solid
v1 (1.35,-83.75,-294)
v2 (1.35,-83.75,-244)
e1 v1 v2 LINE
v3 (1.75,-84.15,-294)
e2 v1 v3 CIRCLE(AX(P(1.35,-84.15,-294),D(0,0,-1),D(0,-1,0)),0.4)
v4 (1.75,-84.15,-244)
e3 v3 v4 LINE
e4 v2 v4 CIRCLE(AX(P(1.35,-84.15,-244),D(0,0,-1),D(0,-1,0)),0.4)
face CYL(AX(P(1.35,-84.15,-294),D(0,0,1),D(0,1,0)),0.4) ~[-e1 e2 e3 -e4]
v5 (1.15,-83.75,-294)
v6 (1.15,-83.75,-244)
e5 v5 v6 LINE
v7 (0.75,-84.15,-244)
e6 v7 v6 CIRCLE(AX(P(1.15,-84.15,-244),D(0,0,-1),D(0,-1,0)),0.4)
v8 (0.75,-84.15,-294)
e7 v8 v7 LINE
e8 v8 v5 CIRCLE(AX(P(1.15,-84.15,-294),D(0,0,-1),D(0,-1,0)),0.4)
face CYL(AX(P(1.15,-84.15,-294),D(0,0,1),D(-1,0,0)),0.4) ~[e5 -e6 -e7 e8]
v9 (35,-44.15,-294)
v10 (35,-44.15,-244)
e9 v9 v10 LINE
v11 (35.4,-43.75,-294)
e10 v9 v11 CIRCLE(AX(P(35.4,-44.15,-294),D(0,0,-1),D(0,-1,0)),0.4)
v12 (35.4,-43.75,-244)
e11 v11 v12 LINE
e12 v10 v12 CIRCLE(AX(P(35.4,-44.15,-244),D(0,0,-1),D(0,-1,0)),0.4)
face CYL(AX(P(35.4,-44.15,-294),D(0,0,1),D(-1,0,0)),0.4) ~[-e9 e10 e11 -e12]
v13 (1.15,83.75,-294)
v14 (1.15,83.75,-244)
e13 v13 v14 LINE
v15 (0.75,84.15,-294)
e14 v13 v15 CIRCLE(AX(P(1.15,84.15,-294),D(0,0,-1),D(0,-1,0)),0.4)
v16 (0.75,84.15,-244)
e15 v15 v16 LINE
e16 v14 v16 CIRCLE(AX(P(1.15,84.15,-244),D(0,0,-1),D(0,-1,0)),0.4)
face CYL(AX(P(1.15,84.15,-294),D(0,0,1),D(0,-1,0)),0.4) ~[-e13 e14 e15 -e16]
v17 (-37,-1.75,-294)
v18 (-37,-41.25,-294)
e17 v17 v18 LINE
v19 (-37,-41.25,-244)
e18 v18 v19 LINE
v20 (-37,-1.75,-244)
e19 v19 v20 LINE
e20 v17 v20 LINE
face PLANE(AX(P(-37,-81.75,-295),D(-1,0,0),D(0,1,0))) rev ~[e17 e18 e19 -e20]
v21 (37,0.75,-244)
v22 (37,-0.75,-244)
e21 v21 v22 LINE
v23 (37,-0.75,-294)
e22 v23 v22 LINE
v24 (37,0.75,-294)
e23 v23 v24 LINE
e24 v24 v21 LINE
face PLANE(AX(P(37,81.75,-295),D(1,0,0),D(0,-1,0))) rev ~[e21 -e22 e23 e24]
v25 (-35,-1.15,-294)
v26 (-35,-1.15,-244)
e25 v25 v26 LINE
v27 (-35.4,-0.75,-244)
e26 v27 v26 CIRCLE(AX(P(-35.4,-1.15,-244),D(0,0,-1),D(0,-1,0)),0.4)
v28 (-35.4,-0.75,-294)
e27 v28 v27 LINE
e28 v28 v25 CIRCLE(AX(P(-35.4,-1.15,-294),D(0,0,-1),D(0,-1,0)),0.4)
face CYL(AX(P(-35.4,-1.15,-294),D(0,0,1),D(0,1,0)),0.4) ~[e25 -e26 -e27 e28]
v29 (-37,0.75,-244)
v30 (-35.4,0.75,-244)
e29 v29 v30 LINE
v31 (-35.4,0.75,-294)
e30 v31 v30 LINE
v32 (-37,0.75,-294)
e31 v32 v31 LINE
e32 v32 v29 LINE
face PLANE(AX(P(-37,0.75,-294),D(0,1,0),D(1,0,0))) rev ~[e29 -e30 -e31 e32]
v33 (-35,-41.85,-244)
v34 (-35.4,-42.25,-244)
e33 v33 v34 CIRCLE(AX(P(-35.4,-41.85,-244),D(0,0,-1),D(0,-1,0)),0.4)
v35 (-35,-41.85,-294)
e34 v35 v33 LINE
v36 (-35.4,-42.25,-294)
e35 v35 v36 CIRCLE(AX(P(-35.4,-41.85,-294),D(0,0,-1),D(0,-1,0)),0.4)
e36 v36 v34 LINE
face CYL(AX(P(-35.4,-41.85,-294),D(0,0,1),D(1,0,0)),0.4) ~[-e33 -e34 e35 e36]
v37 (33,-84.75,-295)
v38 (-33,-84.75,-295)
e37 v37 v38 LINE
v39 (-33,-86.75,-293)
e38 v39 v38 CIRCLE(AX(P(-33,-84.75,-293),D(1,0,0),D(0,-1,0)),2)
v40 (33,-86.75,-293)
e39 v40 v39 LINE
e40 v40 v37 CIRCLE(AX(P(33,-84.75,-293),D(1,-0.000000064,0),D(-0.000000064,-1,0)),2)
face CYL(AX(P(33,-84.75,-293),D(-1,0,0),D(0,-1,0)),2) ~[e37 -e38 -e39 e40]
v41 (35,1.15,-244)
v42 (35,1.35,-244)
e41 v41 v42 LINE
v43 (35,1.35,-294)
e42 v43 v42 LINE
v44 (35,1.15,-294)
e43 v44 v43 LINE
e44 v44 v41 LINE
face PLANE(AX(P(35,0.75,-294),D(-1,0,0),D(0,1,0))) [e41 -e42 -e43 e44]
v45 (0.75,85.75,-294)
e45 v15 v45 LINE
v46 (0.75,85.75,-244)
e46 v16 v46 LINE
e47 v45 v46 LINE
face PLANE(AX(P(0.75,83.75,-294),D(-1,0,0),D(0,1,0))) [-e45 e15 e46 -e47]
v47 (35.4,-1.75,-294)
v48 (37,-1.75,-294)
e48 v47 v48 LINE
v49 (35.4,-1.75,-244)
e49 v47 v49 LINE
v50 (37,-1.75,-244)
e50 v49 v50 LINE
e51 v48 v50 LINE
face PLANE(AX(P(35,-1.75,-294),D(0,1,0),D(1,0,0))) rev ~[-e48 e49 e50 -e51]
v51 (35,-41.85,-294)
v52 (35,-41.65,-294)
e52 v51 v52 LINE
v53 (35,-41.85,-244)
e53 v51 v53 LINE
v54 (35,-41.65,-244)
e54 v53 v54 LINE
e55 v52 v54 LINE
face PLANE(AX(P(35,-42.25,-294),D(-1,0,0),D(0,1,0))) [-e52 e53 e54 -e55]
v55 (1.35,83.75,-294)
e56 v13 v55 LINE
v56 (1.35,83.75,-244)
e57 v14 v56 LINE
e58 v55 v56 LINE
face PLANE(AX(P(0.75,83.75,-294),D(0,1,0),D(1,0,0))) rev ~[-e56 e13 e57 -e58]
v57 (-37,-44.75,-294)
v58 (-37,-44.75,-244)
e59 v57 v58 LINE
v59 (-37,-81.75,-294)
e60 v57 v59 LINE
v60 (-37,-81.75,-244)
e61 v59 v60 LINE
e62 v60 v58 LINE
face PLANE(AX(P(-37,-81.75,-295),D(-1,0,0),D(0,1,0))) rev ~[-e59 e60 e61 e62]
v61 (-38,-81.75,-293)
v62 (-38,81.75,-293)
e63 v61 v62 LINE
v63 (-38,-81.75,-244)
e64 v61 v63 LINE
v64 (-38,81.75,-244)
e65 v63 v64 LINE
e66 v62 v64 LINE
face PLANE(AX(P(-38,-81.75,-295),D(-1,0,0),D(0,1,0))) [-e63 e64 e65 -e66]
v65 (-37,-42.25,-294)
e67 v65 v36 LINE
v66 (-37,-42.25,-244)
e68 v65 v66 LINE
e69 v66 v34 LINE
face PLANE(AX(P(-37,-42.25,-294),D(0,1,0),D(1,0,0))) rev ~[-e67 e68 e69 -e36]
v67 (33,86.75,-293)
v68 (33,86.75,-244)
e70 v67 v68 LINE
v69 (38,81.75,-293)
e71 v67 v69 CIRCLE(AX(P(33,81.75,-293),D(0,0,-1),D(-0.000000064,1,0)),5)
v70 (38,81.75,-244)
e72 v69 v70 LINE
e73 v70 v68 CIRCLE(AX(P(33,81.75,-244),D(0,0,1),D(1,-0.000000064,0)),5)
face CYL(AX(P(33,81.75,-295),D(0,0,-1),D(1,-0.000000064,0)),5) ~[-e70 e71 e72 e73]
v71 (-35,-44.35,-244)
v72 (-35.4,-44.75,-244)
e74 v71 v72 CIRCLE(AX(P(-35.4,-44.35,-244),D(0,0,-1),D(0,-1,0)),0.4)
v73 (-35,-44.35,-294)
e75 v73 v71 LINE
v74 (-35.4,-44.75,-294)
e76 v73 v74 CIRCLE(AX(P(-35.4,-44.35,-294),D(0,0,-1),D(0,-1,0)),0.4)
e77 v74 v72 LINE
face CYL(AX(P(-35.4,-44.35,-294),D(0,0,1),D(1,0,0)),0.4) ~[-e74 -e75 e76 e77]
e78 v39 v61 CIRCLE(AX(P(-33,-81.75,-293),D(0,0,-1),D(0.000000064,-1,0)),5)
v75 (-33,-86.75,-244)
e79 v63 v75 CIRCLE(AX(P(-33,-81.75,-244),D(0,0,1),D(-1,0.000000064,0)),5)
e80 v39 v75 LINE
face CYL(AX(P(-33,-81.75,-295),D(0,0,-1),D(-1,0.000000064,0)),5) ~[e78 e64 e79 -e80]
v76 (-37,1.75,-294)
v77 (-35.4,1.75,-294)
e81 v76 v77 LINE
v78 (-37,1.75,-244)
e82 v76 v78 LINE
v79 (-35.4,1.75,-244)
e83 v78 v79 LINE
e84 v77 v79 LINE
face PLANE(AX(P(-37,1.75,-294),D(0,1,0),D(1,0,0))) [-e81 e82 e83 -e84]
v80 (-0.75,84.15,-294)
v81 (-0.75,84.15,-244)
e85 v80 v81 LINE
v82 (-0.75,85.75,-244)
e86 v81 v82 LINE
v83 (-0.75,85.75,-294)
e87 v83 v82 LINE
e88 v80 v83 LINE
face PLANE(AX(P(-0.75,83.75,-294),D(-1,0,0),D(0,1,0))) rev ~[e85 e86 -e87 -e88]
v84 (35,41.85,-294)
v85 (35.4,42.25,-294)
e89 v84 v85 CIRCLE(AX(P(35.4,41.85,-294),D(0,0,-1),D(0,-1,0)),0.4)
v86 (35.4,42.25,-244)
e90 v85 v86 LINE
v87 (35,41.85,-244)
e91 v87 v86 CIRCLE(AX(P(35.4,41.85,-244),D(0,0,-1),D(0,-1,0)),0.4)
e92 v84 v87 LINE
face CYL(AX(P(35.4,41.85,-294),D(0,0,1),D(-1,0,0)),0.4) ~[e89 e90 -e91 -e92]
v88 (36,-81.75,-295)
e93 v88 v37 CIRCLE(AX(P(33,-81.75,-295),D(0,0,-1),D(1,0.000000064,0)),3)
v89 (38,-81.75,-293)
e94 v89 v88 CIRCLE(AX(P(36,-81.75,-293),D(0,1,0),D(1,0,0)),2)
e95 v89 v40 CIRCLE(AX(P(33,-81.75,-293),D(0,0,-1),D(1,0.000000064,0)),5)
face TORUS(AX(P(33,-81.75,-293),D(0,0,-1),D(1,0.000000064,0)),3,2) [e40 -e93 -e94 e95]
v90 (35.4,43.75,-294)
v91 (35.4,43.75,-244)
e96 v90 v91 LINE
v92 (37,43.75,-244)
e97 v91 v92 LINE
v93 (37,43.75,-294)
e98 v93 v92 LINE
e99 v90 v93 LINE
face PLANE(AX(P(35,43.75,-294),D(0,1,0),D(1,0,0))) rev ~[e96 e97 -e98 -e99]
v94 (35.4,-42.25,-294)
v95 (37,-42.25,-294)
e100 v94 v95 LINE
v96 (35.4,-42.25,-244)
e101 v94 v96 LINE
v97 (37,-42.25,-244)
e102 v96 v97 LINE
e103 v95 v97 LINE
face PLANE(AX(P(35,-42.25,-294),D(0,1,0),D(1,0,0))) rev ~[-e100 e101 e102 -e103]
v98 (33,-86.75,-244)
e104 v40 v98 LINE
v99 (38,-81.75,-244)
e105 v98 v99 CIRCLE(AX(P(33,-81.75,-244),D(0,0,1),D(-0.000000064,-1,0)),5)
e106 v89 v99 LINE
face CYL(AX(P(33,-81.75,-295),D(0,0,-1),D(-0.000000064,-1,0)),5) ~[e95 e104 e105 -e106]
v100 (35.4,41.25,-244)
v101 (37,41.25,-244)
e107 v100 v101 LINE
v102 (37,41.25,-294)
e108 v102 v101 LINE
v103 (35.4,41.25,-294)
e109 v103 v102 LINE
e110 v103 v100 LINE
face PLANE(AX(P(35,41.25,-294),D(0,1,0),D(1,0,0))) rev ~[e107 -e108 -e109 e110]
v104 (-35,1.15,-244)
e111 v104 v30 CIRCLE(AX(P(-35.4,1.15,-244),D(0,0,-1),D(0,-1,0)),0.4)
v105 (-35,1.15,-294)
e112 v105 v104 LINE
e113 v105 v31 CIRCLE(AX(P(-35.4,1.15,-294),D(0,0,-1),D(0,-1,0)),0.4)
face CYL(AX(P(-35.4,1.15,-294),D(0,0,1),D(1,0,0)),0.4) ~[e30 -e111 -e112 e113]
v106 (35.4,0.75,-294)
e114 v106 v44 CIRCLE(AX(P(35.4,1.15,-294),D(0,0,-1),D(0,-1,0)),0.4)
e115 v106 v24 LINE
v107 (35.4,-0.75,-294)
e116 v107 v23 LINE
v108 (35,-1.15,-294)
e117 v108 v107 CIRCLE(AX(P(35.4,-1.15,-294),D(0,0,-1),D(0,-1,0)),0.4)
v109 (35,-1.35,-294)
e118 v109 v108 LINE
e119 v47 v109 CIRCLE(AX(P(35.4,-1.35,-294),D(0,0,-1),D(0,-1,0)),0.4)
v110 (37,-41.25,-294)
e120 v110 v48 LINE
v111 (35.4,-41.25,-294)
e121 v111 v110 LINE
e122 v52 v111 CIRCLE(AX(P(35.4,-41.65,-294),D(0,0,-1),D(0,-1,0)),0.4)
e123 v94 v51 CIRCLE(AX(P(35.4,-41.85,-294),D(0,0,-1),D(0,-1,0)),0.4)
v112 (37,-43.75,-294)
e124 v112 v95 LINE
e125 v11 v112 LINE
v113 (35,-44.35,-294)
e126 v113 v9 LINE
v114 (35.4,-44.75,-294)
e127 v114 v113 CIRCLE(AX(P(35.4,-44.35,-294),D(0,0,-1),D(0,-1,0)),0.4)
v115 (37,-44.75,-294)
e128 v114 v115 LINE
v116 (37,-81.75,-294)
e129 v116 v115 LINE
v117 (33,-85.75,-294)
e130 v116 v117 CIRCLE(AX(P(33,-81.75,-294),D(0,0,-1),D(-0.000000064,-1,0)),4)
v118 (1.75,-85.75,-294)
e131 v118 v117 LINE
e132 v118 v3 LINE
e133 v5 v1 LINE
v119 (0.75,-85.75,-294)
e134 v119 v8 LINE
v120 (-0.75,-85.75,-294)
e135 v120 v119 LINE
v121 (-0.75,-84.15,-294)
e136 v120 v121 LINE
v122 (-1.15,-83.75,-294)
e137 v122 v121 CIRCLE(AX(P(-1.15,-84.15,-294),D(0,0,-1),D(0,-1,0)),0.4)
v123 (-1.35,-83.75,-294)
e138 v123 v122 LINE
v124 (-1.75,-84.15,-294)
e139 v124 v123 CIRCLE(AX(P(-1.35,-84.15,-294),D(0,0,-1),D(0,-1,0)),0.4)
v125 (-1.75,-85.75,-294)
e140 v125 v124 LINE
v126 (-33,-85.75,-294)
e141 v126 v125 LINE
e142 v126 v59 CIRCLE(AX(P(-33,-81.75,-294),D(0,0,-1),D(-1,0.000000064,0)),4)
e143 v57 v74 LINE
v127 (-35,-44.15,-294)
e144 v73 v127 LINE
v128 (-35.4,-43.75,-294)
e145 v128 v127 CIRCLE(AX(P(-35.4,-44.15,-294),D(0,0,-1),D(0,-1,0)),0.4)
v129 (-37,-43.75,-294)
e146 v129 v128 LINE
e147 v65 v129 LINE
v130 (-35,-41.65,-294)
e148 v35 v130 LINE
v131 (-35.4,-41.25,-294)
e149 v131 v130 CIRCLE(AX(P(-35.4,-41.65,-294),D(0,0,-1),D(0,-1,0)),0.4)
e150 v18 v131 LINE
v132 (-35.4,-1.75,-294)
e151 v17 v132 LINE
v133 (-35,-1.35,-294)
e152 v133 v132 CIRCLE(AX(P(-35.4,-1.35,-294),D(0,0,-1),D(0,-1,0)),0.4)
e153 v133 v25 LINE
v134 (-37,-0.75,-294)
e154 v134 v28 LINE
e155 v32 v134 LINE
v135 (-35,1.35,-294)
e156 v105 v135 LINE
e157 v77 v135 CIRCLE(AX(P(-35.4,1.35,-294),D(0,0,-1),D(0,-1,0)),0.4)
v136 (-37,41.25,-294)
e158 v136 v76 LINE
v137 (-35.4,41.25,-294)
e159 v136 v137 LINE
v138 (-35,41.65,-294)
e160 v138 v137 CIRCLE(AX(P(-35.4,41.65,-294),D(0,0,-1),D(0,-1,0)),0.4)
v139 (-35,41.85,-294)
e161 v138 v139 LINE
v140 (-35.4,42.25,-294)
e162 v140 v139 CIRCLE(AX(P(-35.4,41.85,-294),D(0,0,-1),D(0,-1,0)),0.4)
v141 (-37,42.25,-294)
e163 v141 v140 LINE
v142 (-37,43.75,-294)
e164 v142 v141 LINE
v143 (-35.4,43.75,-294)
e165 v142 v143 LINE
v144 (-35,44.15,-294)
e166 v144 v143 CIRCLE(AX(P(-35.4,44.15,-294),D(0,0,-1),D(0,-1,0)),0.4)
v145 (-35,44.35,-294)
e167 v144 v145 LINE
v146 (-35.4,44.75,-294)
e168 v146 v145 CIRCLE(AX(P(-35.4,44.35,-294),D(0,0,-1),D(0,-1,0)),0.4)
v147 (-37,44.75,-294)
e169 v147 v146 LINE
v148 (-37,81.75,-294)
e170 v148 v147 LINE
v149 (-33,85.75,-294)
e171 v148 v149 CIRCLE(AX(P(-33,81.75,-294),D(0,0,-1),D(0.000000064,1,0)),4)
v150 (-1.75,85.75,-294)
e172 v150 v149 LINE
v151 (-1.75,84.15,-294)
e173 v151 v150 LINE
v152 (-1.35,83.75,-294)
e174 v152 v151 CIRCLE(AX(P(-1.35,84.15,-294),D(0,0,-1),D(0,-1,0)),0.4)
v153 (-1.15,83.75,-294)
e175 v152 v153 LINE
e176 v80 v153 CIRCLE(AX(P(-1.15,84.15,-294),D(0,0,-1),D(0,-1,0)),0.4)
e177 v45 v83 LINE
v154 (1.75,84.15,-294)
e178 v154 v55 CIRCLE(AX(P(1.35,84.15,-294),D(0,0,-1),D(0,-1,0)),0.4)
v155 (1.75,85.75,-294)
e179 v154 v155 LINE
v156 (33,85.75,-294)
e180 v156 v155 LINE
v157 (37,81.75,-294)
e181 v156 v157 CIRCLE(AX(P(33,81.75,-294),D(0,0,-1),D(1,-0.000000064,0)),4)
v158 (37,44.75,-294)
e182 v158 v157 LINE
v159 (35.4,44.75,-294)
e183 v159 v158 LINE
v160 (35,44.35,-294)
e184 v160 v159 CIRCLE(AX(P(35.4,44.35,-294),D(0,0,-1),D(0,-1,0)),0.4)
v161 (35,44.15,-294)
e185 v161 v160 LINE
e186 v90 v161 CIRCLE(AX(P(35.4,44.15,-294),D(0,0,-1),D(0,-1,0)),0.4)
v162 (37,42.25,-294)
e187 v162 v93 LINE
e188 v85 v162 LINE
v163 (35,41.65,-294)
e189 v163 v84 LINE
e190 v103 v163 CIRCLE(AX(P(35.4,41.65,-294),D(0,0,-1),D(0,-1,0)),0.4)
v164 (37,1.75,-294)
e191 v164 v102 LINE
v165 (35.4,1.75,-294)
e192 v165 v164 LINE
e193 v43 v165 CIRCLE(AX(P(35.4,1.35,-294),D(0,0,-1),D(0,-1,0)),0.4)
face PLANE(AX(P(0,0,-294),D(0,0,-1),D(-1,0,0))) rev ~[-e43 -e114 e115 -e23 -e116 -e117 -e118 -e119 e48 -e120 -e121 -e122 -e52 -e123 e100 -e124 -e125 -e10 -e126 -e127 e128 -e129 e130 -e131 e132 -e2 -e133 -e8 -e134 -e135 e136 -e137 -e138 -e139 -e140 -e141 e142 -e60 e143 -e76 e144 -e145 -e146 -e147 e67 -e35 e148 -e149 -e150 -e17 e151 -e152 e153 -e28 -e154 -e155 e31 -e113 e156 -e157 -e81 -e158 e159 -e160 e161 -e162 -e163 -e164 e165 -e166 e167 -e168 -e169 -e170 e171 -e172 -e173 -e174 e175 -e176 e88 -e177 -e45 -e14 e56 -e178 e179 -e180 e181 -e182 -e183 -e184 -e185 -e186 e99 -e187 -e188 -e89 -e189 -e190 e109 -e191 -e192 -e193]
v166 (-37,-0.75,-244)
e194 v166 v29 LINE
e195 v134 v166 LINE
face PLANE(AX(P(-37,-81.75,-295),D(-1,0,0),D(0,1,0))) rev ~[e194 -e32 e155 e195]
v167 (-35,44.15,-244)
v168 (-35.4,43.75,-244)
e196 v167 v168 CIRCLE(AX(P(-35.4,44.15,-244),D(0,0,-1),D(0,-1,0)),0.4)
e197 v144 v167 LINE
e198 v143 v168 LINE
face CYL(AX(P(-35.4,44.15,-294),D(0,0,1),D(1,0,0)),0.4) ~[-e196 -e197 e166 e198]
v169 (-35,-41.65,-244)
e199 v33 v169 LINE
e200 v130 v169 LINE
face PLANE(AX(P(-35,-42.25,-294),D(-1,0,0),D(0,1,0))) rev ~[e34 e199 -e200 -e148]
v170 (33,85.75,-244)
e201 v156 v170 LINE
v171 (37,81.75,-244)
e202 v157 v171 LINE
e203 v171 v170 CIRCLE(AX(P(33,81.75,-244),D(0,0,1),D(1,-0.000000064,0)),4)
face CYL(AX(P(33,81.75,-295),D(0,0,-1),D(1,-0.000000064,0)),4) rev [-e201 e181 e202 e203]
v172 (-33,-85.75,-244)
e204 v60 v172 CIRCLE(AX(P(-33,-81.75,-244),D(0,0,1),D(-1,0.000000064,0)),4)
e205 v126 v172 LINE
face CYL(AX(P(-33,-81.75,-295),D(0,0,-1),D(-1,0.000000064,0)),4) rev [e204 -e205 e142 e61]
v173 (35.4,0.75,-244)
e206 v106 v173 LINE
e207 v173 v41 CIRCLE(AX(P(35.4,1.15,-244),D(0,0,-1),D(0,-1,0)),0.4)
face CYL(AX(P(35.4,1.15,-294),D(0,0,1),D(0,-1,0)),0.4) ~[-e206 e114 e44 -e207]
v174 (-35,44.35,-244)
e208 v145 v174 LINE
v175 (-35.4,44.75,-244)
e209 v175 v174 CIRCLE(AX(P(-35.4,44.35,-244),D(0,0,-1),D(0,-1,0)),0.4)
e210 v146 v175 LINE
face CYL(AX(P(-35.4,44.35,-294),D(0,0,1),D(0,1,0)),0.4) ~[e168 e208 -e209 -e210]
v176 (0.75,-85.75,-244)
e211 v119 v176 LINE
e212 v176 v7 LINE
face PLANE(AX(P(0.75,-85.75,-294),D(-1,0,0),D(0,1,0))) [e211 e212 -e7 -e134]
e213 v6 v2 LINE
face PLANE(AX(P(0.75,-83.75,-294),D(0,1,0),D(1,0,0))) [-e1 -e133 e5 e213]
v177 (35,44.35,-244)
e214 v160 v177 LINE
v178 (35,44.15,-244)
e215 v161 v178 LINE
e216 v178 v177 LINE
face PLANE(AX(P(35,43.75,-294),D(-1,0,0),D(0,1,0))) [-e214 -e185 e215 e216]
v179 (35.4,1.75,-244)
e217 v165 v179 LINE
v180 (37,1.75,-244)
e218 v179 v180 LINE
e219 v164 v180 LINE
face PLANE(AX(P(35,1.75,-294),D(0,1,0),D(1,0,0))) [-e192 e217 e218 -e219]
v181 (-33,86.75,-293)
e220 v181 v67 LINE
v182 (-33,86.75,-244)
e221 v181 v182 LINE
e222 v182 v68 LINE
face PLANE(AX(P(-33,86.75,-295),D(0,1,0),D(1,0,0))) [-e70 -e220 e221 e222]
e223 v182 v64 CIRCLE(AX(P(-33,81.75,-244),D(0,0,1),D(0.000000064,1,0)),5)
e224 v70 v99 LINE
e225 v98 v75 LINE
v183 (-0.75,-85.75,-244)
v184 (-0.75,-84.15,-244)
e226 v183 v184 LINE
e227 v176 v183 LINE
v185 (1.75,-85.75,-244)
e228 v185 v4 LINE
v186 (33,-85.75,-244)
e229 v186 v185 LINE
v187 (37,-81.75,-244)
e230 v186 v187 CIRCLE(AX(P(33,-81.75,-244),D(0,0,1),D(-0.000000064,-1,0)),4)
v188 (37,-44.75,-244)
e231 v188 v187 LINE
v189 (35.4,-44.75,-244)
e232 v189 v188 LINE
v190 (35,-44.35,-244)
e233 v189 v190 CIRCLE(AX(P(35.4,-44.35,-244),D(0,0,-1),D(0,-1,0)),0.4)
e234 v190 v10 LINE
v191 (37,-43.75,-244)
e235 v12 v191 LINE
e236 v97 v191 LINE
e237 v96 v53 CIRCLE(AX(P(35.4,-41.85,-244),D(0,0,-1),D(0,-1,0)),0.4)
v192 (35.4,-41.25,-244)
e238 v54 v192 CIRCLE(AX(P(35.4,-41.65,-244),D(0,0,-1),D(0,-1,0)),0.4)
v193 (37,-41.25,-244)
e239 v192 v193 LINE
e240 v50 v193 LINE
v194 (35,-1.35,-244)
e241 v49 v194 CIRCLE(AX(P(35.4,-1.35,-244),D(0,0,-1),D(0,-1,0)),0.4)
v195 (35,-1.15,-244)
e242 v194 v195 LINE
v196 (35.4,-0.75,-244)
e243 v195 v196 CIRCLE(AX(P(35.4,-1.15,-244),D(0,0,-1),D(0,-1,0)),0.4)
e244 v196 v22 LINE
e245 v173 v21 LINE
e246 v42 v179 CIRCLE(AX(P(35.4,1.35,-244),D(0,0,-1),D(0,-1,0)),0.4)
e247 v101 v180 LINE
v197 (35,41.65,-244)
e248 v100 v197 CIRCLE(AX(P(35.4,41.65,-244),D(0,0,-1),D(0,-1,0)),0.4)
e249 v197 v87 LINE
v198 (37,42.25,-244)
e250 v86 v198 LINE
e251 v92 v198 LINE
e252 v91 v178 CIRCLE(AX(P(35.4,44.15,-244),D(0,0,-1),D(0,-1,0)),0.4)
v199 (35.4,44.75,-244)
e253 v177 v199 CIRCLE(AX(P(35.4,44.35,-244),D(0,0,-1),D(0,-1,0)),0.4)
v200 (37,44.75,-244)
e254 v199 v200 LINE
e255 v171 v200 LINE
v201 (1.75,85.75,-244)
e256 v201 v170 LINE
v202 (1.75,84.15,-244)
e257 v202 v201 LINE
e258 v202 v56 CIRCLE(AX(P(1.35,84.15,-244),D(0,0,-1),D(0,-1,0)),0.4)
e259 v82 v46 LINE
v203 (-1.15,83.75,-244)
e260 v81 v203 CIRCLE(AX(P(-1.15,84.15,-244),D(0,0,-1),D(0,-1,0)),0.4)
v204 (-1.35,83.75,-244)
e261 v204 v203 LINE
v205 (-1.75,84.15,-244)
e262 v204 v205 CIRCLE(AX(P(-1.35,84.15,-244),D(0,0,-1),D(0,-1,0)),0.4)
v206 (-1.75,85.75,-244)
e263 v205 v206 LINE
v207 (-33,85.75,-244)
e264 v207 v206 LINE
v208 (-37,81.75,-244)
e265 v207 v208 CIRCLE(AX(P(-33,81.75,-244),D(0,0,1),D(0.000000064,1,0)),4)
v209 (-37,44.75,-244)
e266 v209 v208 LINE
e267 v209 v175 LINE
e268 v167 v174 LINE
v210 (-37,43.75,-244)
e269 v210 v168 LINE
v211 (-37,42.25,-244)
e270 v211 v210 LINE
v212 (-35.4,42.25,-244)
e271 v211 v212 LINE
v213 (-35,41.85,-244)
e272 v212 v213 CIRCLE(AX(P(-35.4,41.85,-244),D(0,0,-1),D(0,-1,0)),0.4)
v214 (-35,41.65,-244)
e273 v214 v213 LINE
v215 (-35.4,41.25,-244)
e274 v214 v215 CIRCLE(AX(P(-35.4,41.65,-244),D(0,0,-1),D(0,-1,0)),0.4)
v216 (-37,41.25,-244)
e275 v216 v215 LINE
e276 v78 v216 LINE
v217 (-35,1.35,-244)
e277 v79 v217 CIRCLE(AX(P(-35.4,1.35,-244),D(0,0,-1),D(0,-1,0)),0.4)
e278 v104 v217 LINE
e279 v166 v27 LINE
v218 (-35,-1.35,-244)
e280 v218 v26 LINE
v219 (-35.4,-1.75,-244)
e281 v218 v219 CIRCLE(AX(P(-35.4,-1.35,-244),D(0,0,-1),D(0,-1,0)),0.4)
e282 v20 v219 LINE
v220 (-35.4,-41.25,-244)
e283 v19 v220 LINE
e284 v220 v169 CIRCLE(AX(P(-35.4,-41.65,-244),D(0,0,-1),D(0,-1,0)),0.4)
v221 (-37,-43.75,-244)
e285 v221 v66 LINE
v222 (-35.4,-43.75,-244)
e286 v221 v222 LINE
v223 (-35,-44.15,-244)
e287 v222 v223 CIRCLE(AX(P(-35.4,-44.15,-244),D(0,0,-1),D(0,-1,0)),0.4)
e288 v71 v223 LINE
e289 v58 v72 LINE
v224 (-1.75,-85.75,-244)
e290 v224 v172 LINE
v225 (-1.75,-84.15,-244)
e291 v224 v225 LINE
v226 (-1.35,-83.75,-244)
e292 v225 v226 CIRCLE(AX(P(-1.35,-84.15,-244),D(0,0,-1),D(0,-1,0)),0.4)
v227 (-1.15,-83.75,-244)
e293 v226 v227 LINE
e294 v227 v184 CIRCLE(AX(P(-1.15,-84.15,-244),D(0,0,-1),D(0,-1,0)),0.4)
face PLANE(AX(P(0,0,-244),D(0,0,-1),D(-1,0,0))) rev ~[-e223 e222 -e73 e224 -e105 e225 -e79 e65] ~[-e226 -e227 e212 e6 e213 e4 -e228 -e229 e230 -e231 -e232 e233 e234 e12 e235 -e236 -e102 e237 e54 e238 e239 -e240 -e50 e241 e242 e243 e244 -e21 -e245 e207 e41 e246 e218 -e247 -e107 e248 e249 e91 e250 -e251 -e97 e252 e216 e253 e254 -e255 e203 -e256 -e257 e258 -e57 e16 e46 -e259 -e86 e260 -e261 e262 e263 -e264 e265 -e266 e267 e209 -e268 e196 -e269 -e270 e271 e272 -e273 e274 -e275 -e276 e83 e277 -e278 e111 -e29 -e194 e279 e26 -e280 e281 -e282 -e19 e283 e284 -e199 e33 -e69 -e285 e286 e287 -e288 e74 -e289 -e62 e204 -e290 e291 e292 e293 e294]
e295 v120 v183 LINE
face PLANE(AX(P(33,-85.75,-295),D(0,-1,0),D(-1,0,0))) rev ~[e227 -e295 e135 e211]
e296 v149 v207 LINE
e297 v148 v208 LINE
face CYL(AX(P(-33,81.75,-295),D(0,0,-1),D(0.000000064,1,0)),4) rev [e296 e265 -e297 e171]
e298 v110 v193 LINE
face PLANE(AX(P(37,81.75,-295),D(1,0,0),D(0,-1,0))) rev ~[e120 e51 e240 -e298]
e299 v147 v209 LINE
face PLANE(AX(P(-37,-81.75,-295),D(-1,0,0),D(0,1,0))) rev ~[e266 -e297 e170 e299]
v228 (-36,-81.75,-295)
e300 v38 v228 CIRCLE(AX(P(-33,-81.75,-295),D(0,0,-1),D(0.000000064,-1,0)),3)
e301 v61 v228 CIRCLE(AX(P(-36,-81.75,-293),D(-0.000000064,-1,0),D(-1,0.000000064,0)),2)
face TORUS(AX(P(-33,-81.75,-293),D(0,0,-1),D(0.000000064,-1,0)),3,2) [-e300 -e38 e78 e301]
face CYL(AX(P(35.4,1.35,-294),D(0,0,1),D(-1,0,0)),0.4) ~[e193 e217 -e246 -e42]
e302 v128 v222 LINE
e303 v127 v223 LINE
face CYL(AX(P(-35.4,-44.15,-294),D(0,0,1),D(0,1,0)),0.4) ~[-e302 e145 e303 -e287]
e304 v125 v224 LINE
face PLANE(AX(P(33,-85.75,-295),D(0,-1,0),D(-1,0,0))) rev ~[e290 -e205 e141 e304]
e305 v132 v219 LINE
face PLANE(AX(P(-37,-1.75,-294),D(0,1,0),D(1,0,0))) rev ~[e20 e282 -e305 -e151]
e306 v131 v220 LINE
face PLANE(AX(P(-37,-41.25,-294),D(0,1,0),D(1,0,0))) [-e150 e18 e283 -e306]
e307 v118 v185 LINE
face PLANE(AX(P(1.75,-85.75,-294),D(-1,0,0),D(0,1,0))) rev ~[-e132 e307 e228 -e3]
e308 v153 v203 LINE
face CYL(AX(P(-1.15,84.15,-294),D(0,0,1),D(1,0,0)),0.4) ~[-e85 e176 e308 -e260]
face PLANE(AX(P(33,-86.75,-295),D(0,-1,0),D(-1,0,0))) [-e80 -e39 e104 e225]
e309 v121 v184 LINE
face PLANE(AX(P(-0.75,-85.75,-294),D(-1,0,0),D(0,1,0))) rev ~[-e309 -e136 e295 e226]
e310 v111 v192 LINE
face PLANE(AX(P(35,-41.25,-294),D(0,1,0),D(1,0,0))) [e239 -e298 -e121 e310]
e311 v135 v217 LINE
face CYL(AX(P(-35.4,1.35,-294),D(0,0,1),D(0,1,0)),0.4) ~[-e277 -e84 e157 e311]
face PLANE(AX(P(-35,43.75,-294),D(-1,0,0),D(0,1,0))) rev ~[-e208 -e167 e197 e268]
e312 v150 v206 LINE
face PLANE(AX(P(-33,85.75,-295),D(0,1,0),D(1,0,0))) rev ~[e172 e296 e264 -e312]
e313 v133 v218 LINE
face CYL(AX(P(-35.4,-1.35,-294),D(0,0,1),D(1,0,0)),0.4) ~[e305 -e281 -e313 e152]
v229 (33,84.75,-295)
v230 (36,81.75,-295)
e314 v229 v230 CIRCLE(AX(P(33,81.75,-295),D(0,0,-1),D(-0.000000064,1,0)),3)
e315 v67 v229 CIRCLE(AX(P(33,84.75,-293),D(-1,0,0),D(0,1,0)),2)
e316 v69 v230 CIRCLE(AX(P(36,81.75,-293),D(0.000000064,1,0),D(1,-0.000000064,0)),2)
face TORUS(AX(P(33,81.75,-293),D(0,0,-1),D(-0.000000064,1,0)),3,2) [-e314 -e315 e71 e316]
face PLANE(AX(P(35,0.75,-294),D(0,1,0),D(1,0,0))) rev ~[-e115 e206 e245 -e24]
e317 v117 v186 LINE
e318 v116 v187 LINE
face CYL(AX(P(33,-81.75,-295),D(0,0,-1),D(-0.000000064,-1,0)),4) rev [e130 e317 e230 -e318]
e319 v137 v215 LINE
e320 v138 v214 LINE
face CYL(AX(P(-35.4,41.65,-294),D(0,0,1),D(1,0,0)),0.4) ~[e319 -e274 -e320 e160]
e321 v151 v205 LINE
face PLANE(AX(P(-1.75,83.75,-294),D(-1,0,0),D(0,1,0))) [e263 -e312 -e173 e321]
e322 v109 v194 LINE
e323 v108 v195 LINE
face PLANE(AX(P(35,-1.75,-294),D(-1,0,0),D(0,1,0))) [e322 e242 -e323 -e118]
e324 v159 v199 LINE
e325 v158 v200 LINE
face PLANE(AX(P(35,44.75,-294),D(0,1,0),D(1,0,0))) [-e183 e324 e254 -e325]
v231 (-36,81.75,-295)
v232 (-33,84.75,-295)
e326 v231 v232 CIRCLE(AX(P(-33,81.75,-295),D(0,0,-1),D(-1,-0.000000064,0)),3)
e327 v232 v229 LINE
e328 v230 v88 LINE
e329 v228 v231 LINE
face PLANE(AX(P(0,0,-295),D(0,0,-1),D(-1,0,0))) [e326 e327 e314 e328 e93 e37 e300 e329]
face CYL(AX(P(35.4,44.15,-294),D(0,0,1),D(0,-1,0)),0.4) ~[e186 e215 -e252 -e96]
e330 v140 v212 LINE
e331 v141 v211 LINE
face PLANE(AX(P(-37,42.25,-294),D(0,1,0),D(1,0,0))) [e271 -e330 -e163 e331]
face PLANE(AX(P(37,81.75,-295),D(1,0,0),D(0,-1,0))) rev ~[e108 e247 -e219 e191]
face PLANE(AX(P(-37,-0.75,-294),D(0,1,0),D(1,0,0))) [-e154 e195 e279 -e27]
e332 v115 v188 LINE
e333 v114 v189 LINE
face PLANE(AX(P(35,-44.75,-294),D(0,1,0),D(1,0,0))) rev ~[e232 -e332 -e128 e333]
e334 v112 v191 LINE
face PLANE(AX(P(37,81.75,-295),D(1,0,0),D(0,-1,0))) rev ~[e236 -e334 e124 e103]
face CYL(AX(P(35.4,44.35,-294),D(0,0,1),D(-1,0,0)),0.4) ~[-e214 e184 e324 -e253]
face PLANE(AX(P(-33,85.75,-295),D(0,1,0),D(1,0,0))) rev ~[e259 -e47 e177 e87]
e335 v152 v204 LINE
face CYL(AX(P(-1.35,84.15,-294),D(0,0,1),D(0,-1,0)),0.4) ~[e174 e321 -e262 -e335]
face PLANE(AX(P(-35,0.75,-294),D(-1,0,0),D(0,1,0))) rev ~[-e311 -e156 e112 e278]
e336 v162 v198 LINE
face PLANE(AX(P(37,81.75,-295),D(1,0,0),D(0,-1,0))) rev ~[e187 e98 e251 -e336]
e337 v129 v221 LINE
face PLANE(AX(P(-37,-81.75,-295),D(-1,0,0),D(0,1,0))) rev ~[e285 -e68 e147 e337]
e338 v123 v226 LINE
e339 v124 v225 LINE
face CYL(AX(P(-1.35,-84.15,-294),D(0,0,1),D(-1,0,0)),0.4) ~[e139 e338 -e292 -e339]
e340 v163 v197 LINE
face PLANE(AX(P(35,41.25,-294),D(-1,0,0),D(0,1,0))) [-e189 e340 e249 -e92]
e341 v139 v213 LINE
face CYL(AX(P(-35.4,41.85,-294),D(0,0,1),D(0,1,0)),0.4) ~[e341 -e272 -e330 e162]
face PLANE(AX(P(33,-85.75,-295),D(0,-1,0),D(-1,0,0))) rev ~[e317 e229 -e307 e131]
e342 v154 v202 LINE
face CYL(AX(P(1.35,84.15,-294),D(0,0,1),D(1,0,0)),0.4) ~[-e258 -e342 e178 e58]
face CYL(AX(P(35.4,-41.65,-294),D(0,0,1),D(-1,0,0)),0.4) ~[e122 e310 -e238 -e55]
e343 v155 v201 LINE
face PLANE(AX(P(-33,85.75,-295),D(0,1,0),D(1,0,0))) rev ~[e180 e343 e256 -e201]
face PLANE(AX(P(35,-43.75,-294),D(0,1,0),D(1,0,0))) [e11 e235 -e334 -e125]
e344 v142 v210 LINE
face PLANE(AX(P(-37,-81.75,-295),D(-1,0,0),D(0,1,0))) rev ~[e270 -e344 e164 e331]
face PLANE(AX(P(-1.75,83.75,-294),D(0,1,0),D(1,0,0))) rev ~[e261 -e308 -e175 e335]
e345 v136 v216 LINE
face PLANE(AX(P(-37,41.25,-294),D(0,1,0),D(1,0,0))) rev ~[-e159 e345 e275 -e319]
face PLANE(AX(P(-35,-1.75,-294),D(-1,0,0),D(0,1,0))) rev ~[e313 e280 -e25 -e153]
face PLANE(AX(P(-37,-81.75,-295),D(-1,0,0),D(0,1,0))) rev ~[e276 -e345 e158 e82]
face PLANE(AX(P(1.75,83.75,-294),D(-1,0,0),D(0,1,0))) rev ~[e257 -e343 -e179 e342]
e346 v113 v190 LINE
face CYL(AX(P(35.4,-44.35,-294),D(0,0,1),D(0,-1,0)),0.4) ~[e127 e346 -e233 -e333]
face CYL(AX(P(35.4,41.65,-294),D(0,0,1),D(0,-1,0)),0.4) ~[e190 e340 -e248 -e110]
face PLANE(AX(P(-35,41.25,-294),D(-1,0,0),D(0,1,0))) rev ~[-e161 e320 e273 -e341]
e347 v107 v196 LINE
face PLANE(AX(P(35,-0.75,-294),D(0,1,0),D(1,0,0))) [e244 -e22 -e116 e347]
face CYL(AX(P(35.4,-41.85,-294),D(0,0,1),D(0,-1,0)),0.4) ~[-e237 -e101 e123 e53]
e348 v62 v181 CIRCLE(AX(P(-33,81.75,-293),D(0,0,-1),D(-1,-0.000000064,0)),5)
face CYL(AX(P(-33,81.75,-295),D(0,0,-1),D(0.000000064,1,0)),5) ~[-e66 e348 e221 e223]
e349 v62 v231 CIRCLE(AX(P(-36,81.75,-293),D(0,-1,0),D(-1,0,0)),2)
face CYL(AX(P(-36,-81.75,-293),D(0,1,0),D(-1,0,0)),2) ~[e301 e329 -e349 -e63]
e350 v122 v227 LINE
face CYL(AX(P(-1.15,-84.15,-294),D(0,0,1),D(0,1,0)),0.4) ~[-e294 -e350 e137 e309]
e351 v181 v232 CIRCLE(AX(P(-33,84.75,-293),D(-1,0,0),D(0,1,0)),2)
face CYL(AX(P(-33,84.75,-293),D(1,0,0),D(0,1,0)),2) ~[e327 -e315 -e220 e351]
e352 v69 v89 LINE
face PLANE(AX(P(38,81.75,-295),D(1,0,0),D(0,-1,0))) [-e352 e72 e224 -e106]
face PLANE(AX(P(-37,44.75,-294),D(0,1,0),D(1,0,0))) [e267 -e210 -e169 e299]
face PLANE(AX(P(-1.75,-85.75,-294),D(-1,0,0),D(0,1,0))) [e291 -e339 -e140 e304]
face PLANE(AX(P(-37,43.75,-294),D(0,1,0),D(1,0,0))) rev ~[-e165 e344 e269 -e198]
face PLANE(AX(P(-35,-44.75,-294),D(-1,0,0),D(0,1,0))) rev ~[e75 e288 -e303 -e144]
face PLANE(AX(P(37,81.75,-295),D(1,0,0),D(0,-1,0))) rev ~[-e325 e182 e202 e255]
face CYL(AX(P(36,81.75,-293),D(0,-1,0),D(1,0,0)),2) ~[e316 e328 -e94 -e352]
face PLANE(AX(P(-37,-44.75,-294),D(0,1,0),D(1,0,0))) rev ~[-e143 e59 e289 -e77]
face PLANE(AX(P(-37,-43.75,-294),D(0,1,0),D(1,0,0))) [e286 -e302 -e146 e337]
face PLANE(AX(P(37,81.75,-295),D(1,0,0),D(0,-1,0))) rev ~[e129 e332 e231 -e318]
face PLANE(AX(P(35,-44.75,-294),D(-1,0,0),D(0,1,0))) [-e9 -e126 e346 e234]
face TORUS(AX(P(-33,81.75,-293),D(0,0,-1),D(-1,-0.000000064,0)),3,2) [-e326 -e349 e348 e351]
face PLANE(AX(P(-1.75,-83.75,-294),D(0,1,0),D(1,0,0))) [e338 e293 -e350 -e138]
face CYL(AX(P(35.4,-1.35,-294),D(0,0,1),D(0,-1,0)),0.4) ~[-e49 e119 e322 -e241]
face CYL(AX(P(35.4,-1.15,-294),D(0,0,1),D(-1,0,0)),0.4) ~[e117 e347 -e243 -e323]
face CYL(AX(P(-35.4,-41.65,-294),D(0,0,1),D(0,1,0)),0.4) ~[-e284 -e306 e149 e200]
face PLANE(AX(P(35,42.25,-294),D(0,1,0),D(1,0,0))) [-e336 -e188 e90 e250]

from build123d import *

# Parameters (mm, degrees)
PAD_DEPTH     = 51
THICKNESS_T   = -1
SKETCH001_W   = 2
SKETCH001_H   = 1
SKETCH001_W_2 = 1
SKETCH001_H_2 = 2
PAD001_DEPTH  = 50
FILLET_R      = 2
FILLET003_R   = 0.4


with BuildPart() as part:
    # Sketch → Pad (new body)
    with BuildSketch(Plane.XY):
        with BuildLine():
            Line((-33, 86.75), (33, 86.75))
            ThreePointArc((38, 81.75), (36.535534, 85.285534), (33, 86.75))
            Line((38, 81.75), (38, -81.75))
            ThreePointArc((33, -86.75), (36.535534, -85.285534), (38, -81.75))
            Line((33, -86.75), (-33, -86.75))
            ThreePointArc((-38, -81.75), (-36.535534, -85.285534), (-33, -86.75))
            Line((-38, -81.75), (-38, 81.75))
            ThreePointArc((-33, 86.75), (-36.535534, 85.285534), (-38, 81.75))
        make_face()
    extrude(amount=PAD_DEPTH)

    # Thickness
    thickness_openings = [part.faces().sort_by_distance(p)[0] for p in [
        (0, 0, 51),
    ]]
    offset(amount=THICKNESS_T, openings=thickness_openings)

    # Sketch001 (on Face19 of Thickness) → Pad001 (join)
    with BuildSketch(Plane.XY.offset(1)):
        with Locations((-36, 44.25)):
            Rectangle(SKETCH001_W, SKETCH001_H)
        with Locations((-36, 41.75)):
            Rectangle(SKETCH001_W, SKETCH001_H)
        with Locations((36, 44.25)):
            Rectangle(SKETCH001_W, SKETCH001_H)
        with Locations((36, 41.75)):
            Rectangle(SKETCH001_W, SKETCH001_H)
        with Locations((-36, -41.75)):
            Rectangle(SKETCH001_W, SKETCH001_H)
        with Locations((-36, -44.25)):
            Rectangle(SKETCH001_W, SKETCH001_H)
        with Locations((-36, 1.25)):
            Rectangle(SKETCH001_W, SKETCH001_H)
        with Locations((-36, -1.25)):
            Rectangle(SKETCH001_W, SKETCH001_H)
        with Locations((36, 1.25)):
            Rectangle(SKETCH001_W, SKETCH001_H)
        with Locations((36, -1.25)):
            Rectangle(SKETCH001_W, SKETCH001_H)
        with Locations((36, -41.75)):
            Rectangle(SKETCH001_W, SKETCH001_H)
        with Locations((36, -44.25)):
            Rectangle(SKETCH001_W, SKETCH001_H)
        with Locations((-1.25, -84.75)):
            Rectangle(SKETCH001_W_2, SKETCH001_H_2)
        with Locations((1.25, -84.75)):
            Rectangle(SKETCH001_W_2, SKETCH001_H_2)
        with Locations((-1.25, 84.75)):
            Rectangle(SKETCH001_W_2, SKETCH001_H_2)
        with Locations((1.25, 84.75)):
            Rectangle(SKETCH001_W_2, SKETCH001_H_2)
    extrude(amount=PAD001_DEPTH)

    # Fillet
    fillet_edges = [part.edges().sort_by_distance(p)[0] for p in [
        (0, 86.75, 0),
    ]]
    fillet(fillet_edges, radius=FILLET_R)

    # Fillet003
    fillet003_edges = [part.edges().sort_by_distance(p)[0] for p in [
        (1.75, -83.75, 26),
        (0.75, -83.75, 26),
        (-0.75, -83.75, 26),
        (-1.75, -83.75, 26),
        (35, 44.75, 26),
        (35, 43.75, 26),
        (35, 42.25, 26),
        (35, 41.25, 26),
        (35, 1.75, 26),
        (35, 0.75, 26),
        (35, -0.75, 26),
        (35, -1.75, 26),
        (35, -41.25, 26),
        (35, -42.25, 26),
        (35, -43.75, 26),
        (35, -44.75, 26),
        (-35, 44.75, 26),
        (-35, 43.75, 26),
        (-35, 42.25, 26),
        (-35, 41.25, 26),
        (-35, 1.75, 26),
        (-35, 0.75, 26),
        (-35, -0.75, 26),
        (-35, -1.75, 26),
        (-35, -41.25, 26),
        (-35, -42.25, 26),
        (-35, -43.75, 26),
        (-35, -44.75, 26),
        (1.75, 83.75, 26),
        (0.75, 83.75, 26),
        (-0.75, 83.75, 26),
        (-1.75, 83.75, 26),
    ]]
    fillet(fillet003_edges, radius=FILLET003_R)


with BuildPart() as part_1:
    # Body placement: moved
    add(part.part.moved(Location((0, 0, -295))))


solid = part_1.part
